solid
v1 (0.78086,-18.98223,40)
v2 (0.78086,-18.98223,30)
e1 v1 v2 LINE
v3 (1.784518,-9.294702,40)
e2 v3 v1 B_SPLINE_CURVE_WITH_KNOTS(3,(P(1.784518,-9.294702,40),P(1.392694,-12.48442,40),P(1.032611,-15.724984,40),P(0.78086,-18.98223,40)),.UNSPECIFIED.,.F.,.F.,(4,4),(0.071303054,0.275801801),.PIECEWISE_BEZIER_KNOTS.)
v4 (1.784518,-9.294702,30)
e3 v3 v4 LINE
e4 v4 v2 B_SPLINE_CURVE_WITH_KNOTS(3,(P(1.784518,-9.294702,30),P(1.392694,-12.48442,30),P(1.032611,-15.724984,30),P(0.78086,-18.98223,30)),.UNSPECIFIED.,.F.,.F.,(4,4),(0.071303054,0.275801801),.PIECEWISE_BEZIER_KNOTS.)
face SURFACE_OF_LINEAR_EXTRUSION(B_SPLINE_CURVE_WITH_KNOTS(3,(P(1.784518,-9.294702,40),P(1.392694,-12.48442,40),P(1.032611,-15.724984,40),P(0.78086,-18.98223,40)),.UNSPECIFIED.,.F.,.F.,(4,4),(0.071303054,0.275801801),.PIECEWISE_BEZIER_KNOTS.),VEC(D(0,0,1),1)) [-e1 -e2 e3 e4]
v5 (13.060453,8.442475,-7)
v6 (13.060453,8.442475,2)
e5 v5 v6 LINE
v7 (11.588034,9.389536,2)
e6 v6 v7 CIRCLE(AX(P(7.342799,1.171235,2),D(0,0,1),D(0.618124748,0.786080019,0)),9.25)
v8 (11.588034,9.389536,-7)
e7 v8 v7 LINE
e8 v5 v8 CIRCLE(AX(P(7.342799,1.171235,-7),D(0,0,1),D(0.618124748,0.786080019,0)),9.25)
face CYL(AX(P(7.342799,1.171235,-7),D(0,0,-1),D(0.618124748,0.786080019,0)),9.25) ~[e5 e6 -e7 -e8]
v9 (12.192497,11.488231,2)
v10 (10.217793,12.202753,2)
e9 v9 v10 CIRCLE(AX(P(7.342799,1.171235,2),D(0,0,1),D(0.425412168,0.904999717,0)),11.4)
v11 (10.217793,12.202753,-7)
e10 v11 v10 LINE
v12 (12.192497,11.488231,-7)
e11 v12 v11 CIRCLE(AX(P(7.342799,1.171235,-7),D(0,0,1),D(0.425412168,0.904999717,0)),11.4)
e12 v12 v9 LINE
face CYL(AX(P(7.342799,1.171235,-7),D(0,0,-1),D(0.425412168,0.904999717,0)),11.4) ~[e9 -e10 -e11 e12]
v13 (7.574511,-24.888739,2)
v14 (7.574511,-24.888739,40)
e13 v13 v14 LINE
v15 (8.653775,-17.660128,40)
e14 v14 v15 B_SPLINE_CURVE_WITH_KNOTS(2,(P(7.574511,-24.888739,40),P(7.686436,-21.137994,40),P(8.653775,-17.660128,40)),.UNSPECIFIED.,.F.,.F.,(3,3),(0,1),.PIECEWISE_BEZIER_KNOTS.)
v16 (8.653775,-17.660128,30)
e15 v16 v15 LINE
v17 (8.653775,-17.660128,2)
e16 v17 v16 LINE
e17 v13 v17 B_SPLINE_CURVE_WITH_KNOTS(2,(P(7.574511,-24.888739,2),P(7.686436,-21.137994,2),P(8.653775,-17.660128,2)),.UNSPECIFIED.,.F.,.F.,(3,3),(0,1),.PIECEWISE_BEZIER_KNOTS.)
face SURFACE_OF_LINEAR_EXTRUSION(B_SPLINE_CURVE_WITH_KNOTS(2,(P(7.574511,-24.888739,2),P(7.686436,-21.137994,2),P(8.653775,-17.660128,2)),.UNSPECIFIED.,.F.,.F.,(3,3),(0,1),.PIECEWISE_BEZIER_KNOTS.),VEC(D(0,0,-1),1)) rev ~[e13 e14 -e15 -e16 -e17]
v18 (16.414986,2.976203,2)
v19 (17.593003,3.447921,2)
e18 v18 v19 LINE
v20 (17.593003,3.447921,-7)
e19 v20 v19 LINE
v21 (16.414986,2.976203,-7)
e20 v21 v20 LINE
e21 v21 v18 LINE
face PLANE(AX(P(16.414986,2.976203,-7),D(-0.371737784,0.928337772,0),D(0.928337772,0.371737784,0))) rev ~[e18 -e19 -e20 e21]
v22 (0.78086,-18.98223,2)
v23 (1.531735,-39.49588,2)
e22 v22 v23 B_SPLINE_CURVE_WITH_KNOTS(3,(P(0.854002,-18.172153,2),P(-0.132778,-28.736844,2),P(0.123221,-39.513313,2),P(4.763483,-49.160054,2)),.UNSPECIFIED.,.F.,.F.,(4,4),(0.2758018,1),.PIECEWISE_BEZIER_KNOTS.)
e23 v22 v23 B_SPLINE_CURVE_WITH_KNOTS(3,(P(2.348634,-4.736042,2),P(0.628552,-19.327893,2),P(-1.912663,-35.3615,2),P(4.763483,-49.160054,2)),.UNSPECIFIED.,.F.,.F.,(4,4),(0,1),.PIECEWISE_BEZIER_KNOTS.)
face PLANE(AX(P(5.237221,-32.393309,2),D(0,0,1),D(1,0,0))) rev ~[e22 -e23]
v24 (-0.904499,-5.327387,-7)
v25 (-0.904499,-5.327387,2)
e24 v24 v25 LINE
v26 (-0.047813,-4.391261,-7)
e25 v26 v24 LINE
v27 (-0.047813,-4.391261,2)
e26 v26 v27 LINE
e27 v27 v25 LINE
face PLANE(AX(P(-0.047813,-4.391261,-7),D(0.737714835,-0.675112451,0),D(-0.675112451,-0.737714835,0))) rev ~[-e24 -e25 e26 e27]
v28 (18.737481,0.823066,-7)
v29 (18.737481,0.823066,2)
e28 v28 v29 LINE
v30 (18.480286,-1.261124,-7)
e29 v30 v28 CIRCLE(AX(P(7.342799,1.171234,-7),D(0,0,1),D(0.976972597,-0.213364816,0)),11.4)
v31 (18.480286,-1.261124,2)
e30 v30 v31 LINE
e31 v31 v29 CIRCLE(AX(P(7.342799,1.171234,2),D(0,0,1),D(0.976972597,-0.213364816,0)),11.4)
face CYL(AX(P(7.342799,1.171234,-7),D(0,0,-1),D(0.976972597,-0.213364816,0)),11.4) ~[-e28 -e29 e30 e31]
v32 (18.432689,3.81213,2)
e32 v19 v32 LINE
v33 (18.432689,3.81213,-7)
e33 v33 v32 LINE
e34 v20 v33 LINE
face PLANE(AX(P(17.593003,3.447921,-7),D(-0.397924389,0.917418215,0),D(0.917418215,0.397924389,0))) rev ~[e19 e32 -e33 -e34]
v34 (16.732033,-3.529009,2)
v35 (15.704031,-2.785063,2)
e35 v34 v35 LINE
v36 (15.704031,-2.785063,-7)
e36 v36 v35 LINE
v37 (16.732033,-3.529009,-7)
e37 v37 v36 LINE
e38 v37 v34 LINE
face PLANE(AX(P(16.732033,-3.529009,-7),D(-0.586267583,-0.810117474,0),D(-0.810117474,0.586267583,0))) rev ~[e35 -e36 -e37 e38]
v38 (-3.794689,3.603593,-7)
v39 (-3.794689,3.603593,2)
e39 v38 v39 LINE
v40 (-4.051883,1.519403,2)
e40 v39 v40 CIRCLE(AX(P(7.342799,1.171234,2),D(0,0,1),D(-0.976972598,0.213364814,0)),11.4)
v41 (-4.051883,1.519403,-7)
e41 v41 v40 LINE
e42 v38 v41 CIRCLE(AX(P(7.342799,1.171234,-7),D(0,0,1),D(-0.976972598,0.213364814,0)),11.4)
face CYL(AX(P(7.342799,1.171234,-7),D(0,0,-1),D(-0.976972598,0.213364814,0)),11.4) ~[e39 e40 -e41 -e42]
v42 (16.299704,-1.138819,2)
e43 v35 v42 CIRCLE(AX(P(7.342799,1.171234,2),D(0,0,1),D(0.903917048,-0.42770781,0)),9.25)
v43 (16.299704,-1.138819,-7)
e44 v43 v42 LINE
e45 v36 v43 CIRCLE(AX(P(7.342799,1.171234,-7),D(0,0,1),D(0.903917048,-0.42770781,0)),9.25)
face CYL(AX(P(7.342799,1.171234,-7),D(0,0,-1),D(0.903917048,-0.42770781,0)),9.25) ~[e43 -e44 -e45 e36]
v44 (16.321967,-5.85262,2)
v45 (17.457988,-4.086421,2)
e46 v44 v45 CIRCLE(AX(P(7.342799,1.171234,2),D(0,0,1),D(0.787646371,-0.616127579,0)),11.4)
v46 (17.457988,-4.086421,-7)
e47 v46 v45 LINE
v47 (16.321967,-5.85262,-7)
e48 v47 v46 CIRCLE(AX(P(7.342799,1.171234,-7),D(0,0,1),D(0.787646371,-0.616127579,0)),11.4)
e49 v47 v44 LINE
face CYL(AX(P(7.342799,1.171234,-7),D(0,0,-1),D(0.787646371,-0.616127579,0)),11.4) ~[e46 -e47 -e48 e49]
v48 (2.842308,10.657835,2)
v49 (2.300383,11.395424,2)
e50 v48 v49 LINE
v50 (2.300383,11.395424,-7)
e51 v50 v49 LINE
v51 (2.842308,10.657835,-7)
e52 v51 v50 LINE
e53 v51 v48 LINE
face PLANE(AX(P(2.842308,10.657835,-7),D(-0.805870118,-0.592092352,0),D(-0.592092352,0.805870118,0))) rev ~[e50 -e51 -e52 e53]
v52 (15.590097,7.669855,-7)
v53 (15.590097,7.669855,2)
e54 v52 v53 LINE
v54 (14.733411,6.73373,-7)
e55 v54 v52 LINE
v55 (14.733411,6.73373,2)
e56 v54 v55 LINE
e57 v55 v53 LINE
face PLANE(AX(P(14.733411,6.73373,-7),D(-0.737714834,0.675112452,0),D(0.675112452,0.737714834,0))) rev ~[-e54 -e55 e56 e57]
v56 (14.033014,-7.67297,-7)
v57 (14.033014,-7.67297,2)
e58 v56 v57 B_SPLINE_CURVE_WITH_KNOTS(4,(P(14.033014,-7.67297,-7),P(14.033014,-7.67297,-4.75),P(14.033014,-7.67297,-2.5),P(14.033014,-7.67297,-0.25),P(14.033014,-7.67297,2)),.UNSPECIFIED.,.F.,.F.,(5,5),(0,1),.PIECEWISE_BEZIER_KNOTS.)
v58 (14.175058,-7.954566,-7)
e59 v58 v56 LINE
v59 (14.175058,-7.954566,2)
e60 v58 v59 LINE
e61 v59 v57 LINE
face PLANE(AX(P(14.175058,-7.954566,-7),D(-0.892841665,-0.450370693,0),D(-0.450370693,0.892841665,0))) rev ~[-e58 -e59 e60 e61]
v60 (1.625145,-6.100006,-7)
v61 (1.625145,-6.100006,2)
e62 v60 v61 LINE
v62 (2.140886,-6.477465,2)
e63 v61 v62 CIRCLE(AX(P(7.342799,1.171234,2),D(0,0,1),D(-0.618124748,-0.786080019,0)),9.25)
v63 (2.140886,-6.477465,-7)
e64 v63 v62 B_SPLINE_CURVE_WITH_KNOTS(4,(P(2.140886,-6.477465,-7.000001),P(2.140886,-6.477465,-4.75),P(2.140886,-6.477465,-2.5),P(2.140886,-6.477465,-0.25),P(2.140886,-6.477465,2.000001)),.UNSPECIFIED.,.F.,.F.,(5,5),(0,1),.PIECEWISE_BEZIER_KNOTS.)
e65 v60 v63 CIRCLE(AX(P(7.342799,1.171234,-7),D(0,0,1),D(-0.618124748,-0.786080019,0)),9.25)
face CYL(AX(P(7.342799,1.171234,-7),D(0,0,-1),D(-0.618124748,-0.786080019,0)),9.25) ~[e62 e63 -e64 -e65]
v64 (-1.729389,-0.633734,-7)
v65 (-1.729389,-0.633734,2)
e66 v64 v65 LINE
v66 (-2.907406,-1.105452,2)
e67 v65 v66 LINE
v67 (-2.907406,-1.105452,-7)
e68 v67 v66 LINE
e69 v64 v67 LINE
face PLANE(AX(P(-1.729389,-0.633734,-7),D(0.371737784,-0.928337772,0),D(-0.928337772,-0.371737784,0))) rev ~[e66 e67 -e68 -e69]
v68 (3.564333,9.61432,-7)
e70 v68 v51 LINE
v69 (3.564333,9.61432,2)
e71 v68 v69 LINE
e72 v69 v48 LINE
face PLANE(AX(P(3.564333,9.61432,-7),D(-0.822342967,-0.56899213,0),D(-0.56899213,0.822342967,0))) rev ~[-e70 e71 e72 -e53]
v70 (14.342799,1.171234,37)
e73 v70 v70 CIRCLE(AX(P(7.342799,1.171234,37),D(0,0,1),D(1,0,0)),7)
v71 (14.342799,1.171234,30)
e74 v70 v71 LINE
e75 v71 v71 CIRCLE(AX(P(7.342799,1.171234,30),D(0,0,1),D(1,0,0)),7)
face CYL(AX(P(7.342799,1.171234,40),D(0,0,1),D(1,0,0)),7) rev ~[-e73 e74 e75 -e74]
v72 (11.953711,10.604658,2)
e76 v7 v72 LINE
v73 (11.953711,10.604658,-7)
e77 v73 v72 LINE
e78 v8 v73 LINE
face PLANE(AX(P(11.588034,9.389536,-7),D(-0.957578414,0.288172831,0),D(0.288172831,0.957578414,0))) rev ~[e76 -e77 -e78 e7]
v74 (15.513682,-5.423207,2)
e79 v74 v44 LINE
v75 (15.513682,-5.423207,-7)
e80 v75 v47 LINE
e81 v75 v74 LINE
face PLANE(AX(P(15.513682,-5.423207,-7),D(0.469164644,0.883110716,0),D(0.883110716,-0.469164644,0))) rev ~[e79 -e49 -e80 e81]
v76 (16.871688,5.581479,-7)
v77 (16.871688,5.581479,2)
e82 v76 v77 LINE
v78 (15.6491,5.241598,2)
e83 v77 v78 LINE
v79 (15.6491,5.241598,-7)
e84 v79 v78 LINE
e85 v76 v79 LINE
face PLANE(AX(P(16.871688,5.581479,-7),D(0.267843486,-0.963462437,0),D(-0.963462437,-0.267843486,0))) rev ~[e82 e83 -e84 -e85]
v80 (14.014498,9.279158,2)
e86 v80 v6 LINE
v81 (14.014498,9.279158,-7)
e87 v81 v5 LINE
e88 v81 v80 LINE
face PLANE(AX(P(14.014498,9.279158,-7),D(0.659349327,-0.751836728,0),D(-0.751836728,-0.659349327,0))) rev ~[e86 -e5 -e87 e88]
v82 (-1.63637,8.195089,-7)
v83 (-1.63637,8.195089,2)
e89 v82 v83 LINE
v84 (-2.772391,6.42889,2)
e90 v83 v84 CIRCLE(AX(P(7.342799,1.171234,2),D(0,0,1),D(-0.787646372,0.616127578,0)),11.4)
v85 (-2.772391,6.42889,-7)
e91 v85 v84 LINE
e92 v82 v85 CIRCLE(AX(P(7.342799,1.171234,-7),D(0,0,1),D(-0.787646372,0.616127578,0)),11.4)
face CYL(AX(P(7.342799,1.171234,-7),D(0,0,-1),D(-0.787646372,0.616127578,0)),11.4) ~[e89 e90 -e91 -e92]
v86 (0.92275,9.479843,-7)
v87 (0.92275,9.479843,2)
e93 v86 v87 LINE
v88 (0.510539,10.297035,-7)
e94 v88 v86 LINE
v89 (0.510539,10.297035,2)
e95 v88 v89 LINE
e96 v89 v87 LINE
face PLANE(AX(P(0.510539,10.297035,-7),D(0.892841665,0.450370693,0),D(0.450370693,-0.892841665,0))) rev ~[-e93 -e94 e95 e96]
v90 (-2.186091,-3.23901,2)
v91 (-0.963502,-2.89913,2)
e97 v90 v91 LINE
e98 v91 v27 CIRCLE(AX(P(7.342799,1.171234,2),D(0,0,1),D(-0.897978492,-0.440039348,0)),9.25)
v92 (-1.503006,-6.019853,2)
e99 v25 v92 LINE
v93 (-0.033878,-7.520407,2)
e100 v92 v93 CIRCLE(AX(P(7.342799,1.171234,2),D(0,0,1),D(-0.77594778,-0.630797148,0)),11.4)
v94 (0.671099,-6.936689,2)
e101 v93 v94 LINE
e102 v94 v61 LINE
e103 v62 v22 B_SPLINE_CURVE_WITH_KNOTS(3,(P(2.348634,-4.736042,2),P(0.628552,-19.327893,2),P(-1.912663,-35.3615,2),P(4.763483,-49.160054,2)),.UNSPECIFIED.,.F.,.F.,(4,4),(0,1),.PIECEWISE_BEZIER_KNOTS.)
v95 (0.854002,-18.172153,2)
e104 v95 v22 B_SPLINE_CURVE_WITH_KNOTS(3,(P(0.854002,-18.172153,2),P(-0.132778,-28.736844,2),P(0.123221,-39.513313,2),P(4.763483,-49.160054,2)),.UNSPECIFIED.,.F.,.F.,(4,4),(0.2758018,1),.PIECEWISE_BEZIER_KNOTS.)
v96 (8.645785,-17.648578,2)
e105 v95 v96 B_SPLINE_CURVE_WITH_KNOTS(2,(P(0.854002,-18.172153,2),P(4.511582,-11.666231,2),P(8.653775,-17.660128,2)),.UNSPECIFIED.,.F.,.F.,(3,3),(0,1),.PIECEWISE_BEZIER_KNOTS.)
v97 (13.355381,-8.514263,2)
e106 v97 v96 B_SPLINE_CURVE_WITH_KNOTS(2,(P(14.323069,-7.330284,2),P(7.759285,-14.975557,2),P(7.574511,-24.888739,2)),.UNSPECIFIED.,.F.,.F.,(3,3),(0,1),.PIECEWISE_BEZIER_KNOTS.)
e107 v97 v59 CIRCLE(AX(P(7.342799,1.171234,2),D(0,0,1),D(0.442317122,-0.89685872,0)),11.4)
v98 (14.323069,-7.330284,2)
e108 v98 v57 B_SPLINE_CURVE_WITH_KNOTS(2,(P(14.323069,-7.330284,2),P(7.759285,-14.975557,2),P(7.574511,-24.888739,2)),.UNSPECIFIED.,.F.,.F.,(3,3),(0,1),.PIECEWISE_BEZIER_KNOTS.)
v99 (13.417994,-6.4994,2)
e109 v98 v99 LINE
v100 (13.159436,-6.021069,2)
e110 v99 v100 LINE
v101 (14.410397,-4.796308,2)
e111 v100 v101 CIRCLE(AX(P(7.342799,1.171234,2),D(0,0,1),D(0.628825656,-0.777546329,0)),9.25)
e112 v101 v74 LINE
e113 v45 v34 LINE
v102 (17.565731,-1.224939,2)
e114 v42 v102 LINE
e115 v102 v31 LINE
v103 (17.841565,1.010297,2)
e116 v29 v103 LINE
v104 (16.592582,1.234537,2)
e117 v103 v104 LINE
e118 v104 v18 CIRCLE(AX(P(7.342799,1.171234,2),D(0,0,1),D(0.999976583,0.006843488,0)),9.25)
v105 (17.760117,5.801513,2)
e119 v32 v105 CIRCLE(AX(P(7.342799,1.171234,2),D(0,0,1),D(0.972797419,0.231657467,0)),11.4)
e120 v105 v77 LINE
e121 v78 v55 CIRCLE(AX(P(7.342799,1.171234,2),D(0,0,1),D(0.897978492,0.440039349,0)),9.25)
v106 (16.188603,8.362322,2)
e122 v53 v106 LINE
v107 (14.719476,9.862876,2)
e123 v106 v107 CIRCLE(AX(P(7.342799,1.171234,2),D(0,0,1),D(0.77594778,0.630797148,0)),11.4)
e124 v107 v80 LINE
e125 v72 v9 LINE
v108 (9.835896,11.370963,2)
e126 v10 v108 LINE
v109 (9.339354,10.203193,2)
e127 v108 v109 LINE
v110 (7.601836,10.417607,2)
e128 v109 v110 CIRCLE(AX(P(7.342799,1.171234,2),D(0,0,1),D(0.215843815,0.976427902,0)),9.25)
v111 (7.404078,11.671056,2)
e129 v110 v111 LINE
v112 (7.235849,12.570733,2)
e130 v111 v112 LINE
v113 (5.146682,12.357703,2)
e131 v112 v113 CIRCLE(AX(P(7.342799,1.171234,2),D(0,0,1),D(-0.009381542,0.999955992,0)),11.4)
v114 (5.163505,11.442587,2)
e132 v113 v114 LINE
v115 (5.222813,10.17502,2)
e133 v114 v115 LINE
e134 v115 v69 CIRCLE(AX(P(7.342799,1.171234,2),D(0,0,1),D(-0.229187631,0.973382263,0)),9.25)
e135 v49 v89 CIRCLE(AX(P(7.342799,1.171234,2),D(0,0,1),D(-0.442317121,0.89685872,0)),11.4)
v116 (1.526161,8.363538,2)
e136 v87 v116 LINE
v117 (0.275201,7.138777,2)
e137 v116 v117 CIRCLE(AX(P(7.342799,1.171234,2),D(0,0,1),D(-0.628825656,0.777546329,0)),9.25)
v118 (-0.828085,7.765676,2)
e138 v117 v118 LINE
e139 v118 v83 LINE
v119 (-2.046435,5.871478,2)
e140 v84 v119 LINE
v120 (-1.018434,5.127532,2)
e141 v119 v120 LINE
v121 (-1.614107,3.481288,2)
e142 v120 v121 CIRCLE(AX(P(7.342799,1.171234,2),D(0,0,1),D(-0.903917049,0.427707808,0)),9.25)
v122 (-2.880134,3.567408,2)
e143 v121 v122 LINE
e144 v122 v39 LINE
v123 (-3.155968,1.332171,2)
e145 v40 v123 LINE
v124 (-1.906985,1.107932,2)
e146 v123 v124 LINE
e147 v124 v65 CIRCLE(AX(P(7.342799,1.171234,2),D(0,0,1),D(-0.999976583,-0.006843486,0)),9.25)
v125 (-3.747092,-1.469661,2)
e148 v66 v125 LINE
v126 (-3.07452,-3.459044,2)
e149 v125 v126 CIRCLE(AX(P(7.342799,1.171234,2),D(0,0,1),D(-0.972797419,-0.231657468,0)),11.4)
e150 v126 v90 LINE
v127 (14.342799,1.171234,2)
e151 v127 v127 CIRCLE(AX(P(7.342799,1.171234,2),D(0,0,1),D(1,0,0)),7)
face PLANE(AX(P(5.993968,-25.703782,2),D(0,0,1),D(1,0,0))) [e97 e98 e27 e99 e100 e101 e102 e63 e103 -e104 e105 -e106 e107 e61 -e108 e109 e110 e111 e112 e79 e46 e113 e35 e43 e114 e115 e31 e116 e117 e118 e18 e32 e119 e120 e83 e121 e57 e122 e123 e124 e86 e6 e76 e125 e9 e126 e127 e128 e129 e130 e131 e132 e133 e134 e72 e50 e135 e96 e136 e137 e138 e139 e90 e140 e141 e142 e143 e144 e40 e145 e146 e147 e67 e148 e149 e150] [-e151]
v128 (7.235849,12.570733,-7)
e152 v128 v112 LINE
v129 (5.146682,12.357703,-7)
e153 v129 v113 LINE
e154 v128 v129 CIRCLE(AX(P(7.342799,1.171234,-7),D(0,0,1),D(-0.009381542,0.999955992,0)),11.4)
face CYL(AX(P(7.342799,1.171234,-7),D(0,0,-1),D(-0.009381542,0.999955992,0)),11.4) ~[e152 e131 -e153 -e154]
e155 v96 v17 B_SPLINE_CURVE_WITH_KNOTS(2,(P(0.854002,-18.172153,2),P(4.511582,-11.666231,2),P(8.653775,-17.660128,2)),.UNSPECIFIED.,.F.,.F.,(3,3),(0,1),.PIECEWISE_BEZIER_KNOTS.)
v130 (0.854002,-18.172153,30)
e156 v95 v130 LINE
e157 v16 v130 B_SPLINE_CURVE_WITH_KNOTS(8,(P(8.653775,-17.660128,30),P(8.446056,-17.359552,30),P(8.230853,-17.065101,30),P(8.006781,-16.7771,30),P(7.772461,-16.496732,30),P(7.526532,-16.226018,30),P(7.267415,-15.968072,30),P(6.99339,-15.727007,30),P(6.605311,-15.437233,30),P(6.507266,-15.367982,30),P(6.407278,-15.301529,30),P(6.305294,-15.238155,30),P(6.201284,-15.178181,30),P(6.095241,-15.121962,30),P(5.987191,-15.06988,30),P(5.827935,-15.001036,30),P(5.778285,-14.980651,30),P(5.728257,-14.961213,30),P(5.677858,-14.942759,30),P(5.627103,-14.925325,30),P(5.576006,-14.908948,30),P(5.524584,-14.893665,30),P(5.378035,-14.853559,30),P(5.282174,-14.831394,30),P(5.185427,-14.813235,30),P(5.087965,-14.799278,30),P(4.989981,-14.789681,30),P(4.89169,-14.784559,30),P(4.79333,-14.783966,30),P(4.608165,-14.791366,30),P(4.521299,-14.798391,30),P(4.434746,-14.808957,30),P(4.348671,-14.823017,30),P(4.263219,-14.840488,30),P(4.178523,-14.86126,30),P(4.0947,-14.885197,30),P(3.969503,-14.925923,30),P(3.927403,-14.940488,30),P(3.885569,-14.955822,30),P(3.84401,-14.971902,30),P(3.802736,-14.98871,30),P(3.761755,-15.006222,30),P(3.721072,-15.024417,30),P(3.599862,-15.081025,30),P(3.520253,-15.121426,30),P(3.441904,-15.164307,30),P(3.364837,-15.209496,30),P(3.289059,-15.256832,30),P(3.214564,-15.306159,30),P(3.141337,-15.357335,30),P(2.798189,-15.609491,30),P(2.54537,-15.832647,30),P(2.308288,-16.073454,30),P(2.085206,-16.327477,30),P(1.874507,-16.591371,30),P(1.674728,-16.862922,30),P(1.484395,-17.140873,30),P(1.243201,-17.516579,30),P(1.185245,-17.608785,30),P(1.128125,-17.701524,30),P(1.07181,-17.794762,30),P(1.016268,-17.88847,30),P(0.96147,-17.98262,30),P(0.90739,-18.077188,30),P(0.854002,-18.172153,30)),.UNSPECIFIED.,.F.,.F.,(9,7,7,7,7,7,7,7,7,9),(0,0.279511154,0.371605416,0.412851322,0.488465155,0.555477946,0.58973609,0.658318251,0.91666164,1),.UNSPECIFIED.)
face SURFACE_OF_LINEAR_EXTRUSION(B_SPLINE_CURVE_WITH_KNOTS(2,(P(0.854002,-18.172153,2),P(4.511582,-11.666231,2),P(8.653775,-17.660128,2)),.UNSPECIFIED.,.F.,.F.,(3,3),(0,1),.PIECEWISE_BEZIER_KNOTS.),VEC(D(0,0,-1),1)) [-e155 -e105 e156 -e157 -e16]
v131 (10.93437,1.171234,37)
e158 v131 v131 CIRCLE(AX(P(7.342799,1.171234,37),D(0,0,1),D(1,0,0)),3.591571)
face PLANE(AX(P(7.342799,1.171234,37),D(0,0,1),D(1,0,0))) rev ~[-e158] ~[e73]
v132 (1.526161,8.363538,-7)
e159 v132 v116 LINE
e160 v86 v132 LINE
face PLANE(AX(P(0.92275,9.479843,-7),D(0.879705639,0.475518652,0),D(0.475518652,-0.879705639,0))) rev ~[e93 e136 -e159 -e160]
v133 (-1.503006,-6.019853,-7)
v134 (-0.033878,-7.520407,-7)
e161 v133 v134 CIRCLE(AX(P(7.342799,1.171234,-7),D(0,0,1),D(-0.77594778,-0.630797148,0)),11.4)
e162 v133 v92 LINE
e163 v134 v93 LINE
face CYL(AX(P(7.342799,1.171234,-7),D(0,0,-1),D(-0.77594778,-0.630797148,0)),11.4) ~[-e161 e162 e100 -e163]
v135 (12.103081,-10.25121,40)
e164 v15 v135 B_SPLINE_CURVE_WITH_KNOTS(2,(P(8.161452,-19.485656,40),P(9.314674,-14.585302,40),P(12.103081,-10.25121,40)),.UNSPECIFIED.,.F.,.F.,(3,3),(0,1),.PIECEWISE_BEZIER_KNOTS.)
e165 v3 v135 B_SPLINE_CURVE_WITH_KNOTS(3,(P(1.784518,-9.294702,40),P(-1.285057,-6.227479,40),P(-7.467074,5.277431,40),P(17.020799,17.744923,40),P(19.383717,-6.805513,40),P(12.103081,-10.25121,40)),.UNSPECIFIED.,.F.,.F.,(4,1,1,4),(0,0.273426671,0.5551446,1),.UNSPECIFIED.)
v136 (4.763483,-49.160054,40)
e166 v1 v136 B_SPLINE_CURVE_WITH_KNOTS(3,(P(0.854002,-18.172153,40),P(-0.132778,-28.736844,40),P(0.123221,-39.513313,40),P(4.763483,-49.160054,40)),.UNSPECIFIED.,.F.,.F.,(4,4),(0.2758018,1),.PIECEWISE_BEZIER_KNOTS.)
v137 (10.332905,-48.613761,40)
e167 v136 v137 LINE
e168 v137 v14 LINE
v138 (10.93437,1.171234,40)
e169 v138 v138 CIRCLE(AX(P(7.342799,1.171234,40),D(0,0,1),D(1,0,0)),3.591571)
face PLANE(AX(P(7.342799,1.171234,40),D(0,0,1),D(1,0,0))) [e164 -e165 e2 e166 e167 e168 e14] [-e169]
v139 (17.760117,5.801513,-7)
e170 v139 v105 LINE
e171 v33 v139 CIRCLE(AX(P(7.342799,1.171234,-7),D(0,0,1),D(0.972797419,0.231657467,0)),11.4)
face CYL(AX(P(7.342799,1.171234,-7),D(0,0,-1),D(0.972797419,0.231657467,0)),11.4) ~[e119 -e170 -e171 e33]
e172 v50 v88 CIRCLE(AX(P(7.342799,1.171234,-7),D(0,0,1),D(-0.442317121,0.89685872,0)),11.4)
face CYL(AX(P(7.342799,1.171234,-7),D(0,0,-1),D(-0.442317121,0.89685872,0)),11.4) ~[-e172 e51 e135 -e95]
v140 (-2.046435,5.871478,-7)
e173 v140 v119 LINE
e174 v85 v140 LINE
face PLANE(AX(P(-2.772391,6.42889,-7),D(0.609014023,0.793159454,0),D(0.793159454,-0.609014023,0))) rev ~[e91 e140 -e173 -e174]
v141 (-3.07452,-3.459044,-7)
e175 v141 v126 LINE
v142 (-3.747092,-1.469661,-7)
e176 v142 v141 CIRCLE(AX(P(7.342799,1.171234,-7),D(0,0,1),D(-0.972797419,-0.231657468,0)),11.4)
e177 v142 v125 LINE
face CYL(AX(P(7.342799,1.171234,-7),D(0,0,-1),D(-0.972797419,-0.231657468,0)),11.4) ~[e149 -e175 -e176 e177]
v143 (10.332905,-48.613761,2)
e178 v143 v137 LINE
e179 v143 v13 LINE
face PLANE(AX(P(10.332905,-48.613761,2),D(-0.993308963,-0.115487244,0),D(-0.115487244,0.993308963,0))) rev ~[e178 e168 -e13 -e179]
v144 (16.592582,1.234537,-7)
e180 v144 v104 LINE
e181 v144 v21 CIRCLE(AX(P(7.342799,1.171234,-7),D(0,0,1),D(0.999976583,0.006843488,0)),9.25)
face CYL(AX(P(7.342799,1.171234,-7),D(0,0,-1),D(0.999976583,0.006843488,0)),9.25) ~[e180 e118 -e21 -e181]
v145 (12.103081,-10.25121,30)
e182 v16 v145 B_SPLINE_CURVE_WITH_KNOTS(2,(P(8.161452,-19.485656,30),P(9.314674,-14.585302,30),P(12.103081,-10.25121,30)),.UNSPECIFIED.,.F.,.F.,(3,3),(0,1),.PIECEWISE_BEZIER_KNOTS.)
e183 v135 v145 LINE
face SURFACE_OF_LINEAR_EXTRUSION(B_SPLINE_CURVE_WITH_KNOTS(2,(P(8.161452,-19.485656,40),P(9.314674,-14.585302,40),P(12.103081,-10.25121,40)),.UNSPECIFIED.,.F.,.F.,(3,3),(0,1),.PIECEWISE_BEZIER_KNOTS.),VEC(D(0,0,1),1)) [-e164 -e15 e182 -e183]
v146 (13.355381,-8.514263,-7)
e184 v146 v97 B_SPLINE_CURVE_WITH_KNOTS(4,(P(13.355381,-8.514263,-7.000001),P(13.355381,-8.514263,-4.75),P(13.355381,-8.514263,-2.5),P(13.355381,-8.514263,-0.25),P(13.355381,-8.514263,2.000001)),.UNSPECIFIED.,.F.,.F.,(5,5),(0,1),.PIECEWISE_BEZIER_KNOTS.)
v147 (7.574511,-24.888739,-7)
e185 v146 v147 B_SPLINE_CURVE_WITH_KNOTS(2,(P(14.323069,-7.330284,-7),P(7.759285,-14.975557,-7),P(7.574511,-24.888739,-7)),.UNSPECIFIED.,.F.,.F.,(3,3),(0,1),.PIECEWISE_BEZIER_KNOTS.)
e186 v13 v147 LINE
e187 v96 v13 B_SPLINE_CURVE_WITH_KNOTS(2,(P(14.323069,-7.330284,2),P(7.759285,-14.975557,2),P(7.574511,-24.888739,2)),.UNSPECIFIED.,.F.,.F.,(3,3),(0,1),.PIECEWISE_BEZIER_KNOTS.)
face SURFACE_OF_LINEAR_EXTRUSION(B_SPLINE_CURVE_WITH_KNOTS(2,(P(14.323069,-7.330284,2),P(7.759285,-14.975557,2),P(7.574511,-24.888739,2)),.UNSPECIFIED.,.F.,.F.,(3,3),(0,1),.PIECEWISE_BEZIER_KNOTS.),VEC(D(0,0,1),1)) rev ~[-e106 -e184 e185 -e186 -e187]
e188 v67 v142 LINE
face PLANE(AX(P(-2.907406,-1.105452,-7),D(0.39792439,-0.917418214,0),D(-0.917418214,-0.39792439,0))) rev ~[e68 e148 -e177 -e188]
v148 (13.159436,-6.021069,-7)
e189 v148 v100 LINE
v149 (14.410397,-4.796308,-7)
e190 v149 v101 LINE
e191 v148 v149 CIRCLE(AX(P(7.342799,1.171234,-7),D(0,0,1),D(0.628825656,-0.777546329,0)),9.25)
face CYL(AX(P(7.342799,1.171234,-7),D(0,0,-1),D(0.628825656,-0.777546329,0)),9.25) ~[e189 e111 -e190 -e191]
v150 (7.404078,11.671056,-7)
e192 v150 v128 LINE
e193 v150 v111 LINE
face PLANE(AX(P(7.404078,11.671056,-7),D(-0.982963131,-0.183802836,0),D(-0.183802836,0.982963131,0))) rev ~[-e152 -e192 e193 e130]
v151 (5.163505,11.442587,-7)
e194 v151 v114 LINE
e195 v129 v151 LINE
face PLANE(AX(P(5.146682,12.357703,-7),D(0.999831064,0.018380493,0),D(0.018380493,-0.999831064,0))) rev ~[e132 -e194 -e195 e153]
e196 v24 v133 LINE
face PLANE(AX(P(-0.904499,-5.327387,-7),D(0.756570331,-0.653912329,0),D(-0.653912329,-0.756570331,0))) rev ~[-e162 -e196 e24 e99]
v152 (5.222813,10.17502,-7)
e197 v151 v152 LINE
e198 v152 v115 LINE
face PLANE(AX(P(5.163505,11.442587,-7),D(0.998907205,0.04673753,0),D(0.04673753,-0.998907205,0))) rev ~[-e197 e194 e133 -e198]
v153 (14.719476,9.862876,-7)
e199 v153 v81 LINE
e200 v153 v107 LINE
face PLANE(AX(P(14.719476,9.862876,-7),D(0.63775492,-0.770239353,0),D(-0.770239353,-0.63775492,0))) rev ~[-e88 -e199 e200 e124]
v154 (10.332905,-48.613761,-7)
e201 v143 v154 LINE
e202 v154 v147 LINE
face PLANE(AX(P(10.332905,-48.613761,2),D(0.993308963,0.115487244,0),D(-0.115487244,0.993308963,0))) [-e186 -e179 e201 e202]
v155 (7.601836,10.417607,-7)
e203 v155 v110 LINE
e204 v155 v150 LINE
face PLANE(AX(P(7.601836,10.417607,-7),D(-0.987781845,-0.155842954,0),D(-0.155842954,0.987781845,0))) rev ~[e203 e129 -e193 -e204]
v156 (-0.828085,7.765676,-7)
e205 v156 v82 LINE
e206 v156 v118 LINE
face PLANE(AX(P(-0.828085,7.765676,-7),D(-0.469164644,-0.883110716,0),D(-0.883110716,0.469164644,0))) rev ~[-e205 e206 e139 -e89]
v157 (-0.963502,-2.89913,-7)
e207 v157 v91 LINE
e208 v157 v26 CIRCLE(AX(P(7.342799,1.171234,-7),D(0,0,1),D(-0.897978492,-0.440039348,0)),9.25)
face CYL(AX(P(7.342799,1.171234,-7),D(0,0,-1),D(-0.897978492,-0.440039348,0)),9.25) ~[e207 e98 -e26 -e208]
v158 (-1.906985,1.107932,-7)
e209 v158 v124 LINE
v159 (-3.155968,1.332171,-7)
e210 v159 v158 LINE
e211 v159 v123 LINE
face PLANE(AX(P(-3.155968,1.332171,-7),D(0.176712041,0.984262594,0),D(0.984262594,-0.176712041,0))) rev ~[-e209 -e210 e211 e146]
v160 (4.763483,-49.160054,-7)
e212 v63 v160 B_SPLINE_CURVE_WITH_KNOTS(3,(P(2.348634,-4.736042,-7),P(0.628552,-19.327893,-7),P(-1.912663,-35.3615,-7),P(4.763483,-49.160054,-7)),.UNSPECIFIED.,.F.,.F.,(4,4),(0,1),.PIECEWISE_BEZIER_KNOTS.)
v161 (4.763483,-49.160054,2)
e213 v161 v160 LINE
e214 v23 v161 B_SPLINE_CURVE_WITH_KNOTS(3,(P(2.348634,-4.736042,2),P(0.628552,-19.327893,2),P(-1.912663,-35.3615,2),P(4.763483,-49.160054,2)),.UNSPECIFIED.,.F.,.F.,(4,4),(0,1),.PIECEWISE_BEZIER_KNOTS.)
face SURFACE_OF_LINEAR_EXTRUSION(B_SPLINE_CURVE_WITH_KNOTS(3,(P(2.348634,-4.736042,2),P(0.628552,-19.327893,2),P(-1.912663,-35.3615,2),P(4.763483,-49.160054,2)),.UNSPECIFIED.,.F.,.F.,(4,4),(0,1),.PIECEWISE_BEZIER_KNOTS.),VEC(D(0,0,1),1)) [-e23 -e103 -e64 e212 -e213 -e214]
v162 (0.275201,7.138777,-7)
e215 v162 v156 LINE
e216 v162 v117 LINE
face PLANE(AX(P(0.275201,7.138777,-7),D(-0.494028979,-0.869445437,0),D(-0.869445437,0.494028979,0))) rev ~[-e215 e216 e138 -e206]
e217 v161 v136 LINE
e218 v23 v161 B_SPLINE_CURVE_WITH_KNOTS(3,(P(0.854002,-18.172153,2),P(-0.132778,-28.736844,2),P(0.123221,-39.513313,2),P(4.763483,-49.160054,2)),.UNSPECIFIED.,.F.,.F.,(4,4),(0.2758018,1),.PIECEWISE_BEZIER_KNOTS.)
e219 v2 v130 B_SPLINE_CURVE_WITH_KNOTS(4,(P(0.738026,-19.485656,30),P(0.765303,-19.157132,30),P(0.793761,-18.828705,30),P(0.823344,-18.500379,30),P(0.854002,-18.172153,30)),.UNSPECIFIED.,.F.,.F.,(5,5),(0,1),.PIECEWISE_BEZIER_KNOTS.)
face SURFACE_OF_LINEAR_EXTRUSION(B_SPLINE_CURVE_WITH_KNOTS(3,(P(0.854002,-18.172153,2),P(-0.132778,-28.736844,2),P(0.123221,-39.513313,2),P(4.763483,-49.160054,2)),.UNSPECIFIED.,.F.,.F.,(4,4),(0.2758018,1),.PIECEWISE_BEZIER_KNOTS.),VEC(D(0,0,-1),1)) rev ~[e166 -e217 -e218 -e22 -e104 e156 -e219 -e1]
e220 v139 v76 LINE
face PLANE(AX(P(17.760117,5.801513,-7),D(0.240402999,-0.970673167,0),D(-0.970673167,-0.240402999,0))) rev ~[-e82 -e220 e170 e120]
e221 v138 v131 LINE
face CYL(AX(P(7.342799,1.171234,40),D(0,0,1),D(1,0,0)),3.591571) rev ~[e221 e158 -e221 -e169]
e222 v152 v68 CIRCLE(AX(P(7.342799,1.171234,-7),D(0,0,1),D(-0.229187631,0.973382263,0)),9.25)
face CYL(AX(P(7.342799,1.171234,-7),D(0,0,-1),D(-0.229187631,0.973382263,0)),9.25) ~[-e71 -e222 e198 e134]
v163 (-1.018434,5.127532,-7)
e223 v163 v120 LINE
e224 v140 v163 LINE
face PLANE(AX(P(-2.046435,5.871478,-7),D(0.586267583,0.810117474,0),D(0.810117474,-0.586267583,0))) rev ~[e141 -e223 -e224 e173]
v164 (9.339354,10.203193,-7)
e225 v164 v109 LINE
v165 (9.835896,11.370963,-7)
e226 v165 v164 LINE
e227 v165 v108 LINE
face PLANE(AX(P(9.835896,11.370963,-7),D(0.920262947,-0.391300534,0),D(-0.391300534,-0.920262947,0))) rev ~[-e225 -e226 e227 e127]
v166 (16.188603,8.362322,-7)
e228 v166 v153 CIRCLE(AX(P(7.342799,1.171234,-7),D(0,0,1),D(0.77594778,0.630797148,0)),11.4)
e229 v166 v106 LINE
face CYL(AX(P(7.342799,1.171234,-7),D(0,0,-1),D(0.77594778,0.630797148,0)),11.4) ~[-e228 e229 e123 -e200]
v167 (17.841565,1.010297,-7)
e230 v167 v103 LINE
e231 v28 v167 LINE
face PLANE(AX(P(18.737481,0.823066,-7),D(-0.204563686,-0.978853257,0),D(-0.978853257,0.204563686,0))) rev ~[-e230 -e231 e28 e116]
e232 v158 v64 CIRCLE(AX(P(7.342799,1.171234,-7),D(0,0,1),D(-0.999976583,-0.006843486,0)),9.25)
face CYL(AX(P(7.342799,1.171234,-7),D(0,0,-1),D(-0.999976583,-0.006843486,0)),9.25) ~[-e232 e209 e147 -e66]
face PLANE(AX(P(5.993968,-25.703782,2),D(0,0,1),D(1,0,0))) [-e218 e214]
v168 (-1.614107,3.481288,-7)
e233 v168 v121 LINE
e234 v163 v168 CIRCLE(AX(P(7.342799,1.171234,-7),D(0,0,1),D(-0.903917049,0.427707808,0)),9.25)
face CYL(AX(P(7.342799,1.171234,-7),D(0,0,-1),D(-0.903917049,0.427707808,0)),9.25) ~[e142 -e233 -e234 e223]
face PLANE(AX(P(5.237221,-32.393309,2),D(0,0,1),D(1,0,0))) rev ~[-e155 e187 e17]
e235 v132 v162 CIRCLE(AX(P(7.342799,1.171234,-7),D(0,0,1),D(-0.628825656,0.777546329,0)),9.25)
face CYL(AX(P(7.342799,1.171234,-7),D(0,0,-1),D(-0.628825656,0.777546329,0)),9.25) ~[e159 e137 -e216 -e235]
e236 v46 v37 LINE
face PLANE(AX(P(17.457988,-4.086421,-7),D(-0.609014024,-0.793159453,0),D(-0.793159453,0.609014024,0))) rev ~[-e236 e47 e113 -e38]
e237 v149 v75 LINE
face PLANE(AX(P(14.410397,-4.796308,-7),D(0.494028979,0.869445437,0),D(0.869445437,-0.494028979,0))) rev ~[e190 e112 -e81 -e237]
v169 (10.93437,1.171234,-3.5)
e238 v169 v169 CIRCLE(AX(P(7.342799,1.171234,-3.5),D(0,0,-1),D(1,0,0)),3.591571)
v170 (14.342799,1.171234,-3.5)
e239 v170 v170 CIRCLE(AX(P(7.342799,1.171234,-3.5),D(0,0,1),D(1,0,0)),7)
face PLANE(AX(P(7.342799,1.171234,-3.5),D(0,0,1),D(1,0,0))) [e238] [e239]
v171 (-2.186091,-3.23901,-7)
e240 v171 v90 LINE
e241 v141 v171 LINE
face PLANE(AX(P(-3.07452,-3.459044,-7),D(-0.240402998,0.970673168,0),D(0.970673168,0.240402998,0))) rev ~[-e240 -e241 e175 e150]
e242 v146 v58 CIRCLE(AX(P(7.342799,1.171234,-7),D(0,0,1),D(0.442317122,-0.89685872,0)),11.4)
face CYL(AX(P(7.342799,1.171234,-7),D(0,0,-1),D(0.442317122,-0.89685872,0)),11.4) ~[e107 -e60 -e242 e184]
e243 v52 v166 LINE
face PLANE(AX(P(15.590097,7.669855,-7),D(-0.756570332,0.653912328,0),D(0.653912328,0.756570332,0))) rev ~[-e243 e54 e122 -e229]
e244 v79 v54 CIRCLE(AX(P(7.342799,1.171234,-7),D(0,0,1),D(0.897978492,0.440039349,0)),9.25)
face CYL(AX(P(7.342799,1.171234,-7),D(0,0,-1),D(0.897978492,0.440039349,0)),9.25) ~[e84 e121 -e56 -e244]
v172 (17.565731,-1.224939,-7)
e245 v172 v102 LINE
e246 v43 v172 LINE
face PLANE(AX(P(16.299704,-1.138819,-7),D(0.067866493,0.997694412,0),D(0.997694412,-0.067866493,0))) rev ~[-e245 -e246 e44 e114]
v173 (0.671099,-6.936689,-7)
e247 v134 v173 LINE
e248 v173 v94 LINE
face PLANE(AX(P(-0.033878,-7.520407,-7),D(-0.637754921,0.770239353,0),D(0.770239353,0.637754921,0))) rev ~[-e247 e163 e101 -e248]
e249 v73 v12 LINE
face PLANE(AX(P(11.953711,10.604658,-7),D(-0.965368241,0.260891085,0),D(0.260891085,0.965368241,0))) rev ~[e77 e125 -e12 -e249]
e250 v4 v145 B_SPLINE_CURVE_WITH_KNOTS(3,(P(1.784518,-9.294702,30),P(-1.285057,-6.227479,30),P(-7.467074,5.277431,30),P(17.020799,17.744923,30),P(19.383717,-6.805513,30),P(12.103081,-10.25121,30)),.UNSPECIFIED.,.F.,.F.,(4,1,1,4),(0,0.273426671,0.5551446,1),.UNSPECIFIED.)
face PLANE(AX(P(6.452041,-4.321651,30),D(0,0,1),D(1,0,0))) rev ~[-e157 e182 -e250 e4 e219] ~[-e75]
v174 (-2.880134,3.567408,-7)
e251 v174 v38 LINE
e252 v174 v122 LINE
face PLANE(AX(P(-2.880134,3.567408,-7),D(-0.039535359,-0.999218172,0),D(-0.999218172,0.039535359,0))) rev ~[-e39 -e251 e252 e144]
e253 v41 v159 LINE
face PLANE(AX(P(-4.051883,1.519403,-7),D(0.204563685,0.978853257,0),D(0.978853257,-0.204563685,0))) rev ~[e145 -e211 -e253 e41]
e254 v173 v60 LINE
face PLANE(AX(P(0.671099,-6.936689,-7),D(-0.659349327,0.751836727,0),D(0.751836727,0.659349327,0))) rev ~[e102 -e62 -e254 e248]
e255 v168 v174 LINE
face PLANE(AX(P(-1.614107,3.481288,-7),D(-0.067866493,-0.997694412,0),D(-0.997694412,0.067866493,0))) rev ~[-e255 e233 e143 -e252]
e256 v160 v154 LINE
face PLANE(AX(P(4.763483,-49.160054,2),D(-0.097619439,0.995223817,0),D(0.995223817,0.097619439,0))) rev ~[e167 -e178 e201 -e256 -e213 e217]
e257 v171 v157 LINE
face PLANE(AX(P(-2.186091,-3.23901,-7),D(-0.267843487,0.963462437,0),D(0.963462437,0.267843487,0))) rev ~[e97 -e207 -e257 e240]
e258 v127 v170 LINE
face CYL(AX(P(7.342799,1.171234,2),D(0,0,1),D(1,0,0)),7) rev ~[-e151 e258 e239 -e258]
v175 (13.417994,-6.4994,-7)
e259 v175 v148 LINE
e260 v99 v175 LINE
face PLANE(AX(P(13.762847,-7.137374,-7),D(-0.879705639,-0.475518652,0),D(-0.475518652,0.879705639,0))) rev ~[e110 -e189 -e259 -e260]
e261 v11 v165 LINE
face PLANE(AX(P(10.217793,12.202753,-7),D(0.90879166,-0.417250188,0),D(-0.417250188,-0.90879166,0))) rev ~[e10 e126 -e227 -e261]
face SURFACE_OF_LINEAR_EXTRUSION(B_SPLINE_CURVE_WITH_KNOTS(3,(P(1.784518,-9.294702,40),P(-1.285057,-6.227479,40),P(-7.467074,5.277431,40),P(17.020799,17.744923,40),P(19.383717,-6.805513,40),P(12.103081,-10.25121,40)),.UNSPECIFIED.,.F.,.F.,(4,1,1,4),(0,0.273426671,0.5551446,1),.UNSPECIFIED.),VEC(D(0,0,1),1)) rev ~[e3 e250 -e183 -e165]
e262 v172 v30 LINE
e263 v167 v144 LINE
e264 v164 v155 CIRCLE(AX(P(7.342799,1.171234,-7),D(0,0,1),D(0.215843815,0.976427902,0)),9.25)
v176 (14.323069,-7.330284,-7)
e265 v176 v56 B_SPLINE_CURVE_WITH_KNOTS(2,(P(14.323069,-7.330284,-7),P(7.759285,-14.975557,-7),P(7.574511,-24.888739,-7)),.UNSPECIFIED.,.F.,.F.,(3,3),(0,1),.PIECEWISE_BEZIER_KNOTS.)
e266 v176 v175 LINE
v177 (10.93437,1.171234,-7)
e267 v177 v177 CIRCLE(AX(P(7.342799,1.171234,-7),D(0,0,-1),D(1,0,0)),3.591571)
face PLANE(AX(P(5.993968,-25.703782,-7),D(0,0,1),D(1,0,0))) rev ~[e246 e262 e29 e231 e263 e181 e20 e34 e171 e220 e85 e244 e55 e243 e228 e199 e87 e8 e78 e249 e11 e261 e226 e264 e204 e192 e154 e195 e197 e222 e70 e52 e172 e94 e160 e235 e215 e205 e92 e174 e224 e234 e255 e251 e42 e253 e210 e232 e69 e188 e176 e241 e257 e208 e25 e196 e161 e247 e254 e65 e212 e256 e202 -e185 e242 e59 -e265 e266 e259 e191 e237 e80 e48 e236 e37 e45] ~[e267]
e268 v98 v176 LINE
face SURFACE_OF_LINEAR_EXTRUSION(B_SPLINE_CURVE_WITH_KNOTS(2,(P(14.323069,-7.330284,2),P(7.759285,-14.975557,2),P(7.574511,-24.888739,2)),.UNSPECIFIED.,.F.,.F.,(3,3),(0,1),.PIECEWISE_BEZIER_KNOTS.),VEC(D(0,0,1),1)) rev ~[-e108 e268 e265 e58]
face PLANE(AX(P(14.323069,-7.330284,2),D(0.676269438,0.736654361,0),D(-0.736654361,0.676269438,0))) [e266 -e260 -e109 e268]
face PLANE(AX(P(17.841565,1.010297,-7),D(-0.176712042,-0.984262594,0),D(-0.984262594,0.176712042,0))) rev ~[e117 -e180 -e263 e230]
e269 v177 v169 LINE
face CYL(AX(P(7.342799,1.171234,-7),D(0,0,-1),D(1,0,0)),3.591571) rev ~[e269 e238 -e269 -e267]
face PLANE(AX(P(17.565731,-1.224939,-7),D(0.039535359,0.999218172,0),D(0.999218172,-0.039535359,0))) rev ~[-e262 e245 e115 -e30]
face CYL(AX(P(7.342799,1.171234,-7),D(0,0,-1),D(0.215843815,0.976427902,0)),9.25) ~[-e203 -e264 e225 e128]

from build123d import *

# Parameters (mm, degrees)
BOSS_EXTRUDE1_DEPTH      = 2
BOSS_EXTRUDE1_DEPTH_BACK = 7
BOSS_EXTRUDE3_DEPTH      = 9
SKETCH6_R                = 7
SKETCH6_R_2              = 3.69685312
BOSS_EXTRUDE4_DEPTH      = 3
BOSS_EXTRUDE5_DEPTH      = 38
SKETCH8_R                = 7
BOSS_EXTRUDE6_DEPTH      = 10
SKETCH9_R                = 7
SKETCH9_R_2              = 3.591571222
BOSS_EXTRUDE7_DEPTH      = 3
SKETCH10_R               = 7
CUT_EXTRUDE1_DEPTH       = 5.5
SKETCH11_R               = 3.591571222
CUT_EXTRUDE2_DEPTH       = 71.546467667


with BuildPart() as part:
    # Sketch2 → Boss-Extrude1 (new, two sides: drawn at the far end of the back side and taken through both)
    with BuildSketch(Plane.XY.offset(-BOSS_EXTRUDE1_DEPTH_BACK)):
        with BuildLine():
            Line((17.593003447, 3.447921134), (18.432689254, 3.812129579))
            ThreePointArc((18.432689254, 3.812129579), (18.142308848, 4.822341152), (17.760116965, 5.801513031))
            Line((17.760116965, 5.801513031), (16.871688472, 5.581479263))
            Line((16.871688472, 5.581479263), (15.649099733, 5.241598415))
            ThreePointArc((15.649099733, 5.241598415), (15.22663553, 6.009376293), (14.733410626, 6.733729845))
            Line((14.733410626, 6.733729845), (15.590096731, 7.669855443))
            Line((15.590096731, 7.669855443), (16.188603379, 8.362321932))
            ThreePointArc((16.188603379, 8.362321932), (15.488665299, 9.146499772), (14.719475556, 9.862876308))
            Line((14.719475556, 9.862876308), (14.014498216, 9.279158058))
            Line((14.014498216, 9.279158058), (13.060452596, 8.442474621))
            ThreePointArc((13.060452596, 8.442474621), (12.346699165, 8.950918239), (11.588033655, 9.389535972))
            Line((11.588033655, 9.389535972), (11.95371149, 10.604658163))
            Line((11.95371149, 10.604658163), (12.192497398, 11.488231214))
            ThreePointArc((12.192497398, 11.488231214), (11.221632964, 11.891059284), (10.217792822, 12.202753318))
            Line((10.217792822, 12.202753318), (9.835896044, 11.370963143))
            Line((9.835896044, 11.370963143), (9.33935398, 10.203192533))
            ThreePointArc((9.33935398, 10.203192533), (8.475678941, 10.351598396), (7.601835833, 10.417606691))
            Line((7.601835833, 10.417606691), (7.404078418, 11.671055622))
            Line((7.404078418, 11.671055622), (7.235849109, 12.570732756))
            ThreePointArc((7.235849109, 12.570732756), (6.18634993, 12.512426015), (5.14668224, 12.357702722))
            Line((5.14668224, 12.357702722), (5.163505363, 11.442586867))
            Line((5.163505363, 11.442586867), (5.222813101, 10.175020376))
            ThreePointArc((5.222813101, 10.175020376), (4.380277888, 9.933994883), (3.564332526, 9.614319987))
            Line((3.564332526, 9.614319987), (2.842308143, 10.657834724))
            Line((2.842308143, 10.657834724), (2.300383494, 11.395423851))
            ThreePointArc((2.300383494, 11.395423851), (1.380115753, 10.887530665), (0.510539453, 10.297034891))
            Line((0.510539453, 10.297034891), (0.922750452, 9.479843274))
            Line((0.922750452, 9.479843274), (1.526161366, 8.363537991))
            ThreePointArc((1.526161366, 8.363537991), (0.871640411, 7.780819197), (0.275200782, 7.138776643))
            Line((0.275200782, 7.138776643), (-0.828084785, 7.765676295))
            Line((-0.828084785, 7.765676295), (-1.636369952, 8.195088843))
            ThreePointArc((-1.636369952, 8.195088843), (-2.245135941, 7.338203686), (-2.772390602, 6.42889036))
            Line((-2.772390602, 6.42889036), (-2.04643517, 5.871477804))
            Line((-2.04643517, 5.871477804), (-1.018434012, 5.12753168))
            ThreePointArc((-1.018434012, 5.12753168), (-1.355304806, 4.318534189), (-1.61410652, 3.481288379))
            Line((-1.61410652, 3.481288379), (-2.880134034, 3.567407782))
            Line((-2.880134034, 3.567407782), (-3.794688927, 3.603593329))
            ThreePointArc((-3.794688927, 3.603593329), (-3.971379595, 2.567432815), (-4.051883364, 1.519402593))
            Line((-4.051883364, 1.519402593), (-3.155967876, 1.332171491))
            Line((-3.155967876, 1.332171491), (-1.90698471, 1.107932181))
            ThreePointArc((-1.90698471, 1.107932181), (-1.859483953, 0.232887867), (-1.729388897, -0.633734398))
            Line((-1.729388897, -0.633734398), (-2.907406081, -1.105452248))
            Line((-2.907406081, -1.105452248), (-3.747091888, -1.469660694))
            ThreePointArc((-3.747091888, -1.469660694), (-3.456711482, -2.479872267), (-3.0745196, -3.459044145))
            Line((-3.0745196, -3.459044145), (-2.186091107, -3.239010378))
            Line((-2.186091107, -3.239010378), (-0.963502367, -2.899129529))
            ThreePointArc((-0.963502367, -2.899129529), (-0.541038164, -3.666907408), (-0.047813261, -4.391260959))
            Line((-0.047813261, -4.391260959), (-0.904499365, -5.327386558))
            Line((-0.904499365, -5.327386558), (-1.503006014, -6.019853046))
            ThreePointArc((-1.503006014, -6.019853046), (-0.803067933, -6.804030887), (-0.03387819, -7.520407423))
            Line((-0.03387819, -7.520407423), (0.67109915, -6.936689172))
            Line((0.67109915, -6.936689172), (1.625144769, -6.100005735))
            ThreePointArc((1.625144769, -6.100005735), (2.3388982, -6.608449353), (3.097563711, -7.047067087))
            Line((3.097563711, -7.047067087), (2.731885876, -8.262189278))
            Line((2.731885876, -8.262189278), (2.493099968, -9.145762328))
            ThreePointArc((2.493099968, -9.145762328), (3.463964401, -9.548590398), (4.467804544, -9.860284433))
            Line((4.467804544, -9.860284433), (4.849701322, -9.028494257))
            Line((4.849701322, -9.028494257), (5.346243386, -7.860723648))
            ThreePointArc((5.346243386, -7.860723648), (6.209918425, -8.009129511), (7.083761533, -8.075137806))
            Line((7.083761533, -8.075137806), (7.281518948, -9.328586736))
            Line((7.281518948, -9.328586736), (7.449748257, -10.22826387))
            ThreePointArc((7.449748257, -10.22826387), (8.499247436, -10.16995713), (9.538915126, -10.015233837))
            Line((9.538915126, -10.015233837), (9.522092003, -9.100117982))
            Line((9.522092003, -9.100117982), (9.462784265, -7.83255149))
            ThreePointArc((9.462784265, -7.83255149), (10.305319478, -7.591525998), (11.12126484, -7.271851101))
            Line((11.12126484, -7.271851101), (11.843289223, -8.315365839))
            Line((11.843289223, -8.315365839), (12.385213872, -9.052954966))
            ThreePointArc((12.385213872, -9.052954966), (13.305481612, -8.54506178), (14.175057913, -7.954566005))
            Line((14.175057913, -7.954566005), (13.762846914, -7.137374389))
            Line((13.762846914, -7.137374389), (13.159436, -6.021069105))
            ThreePointArc((13.159436, -6.021069105), (13.813956955, -5.438350311), (14.410396584, -4.796307757))
            Line((14.410396584, -4.796307757), (15.513682151, -5.42320741))
            Line((15.513682151, -5.42320741), (16.321967317, -5.852619957))
            ThreePointArc((16.321967317, -5.852619957), (16.930733307, -4.9957348), (17.457987967, -4.086421474))
            Line((17.457987967, -4.086421474), (16.732032536, -3.529008918))
            Line((16.732032536, -3.529008918), (15.704031377, -2.785062794))
            ThreePointArc((15.704031377, -2.785062794), (16.040902172, -1.976065303), (16.299703886, -1.138819493))
            Line((16.299703886, -1.138819493), (17.565731399, -1.224938896))
            Line((17.565731399, -1.224938896), (18.480286292, -1.261124443))
            ThreePointArc((18.480286292, -1.261124443), (18.656976961, -0.22496393), (18.737480729, 0.823066292))
            Line((18.737480729, 0.823066292), (17.841565242, 1.010297394))
            Line((17.841565242, 1.010297394), (16.592582076, 1.234536705))
            ThreePointArc((16.592582076, 1.234536705), (16.545081318, 2.109581019), (16.414986263, 2.976203284))
            Line((16.414986263, 2.976203284), (17.593003447, 3.447921134))
        make_face()
    extrude(amount=BOSS_EXTRUDE1_DEPTH + BOSS_EXTRUDE1_DEPTH_BACK)

    # Sketch5 → Boss-Extrude3 (add)
    with BuildSketch(Plane.XY.offset(2)):
        with BuildLine():
            Line((14.323069399, -7.330284288), (11.497184032, -4.736041982))
            Line((11.497184032, -4.736041982), (2.348634103, -4.736041982))
            add(Edge.make_bspline(
                [(2.348634103, -4.736041982), (0.628552499, -19.32789347), (-1.912663, -35.361500183), (4.763482553, -49.160053836)],
                knots=[0, 0, 0, 0, 1, 1, 1, 1], degree=3))
            Line((4.763482553, -49.160053836), (10.332905106, -48.613760737))
            Line((10.332905106, -48.613760737), (7.574511186, -24.888738823))
            add(Edge.make_bspline(
                [(14.323069399, -7.330284288), (7.759285057, -14.975557189), (7.574511186, -24.888738823)],
                knots=[0, 0, 0, 1, 1, 1], degree=2))
        make_face()
    extrude(amount=-BOSS_EXTRUDE3_DEPTH)

    # Sketch6 → Boss-Extrude4 (add)
    with BuildSketch(Plane(origin=(0, 0, -7), x_dir=(-1, 0, 0), z_dir=(0, 0, -1))):
        with Locations((-7.342798683, 1.171234443)):
            Circle(SKETCH6_R)
        with Locations((-7.342798683, 1.171234443)):
            Circle(SKETCH6_R_2, mode=Mode.SUBTRACT)
    extrude(amount=-BOSS_EXTRUDE4_DEPTH)

    # Sketch7 → Boss-Extrude5 (add)
    with BuildSketch(Plane.XY.offset(2)):
        with BuildLine():
            Line((4.763482553, -49.160053836), (10.332905106, -48.613760737))
            Line((10.332905106, -48.613760737), (7.574511187, -24.888738781))
            add(Edge.make_bspline(
                [(7.574511187, -24.888738781), (7.686436039, -21.137993885), (8.653774634, -17.660128373)],
                knots=[0, 0, 0, 1, 1, 1], degree=2))
            add(Edge.make_bspline(
                [(0.854001662, -18.172152661), (4.511582235, -11.66623094), (8.653774634, -17.660128373)],
                knots=[0, 0, 0, 1, 1, 1], degree=2))
            add(Edge.make_bspline(
                [(0.854001662, -18.172152661), (-0.132777517, -28.73684408), (0.123220881, -39.513312679), (4.763482553, -49.160053836)],
                knots=[0.2758018, 0.2758018, 0.2758018, 0.2758018, 1, 1, 1, 1], degree=3))
        make_face()
    extrude(amount=BOSS_EXTRUDE5_DEPTH)

    # Sketch8 → Boss-Extrude6 (add)
    with BuildSketch(Plane.XY.offset(40)):
        with BuildLine():
            add(Edge.make_bspline(
                [(8.161452368, -19.485656093), (9.314674226, -14.585302427), (12.103080861, -10.251209775)],
                knots=[0, 0, 0, 1, 1, 1], degree=2))
            add(Edge.make_bspline(
                [(1.784517867, -9.294701523), (-1.285057106, -6.227479148), (-7.467073574, 5.277430619), (17.020799468, 17.744922671), (19.383717346, -6.805513304), (12.103080861, -10.251209775)],
                knots=[0, 0, 0, 0, 0.273426671, 0.5551446, 1, 1, 1, 1], degree=3))
            add(Edge.make_bspline(
                [(1.784517867, -9.294701523), (1.392693521, -12.484419655), (1.032610994, -15.724984195), (0.780859851, -18.982230478)],
                knots=[0.071303054, 0.071303054, 0.071303054, 0.071303054, 0.275801801, 0.275801801, 0.275801801, 0.275801801], degree=3))
            add(Edge.make_bspline(
                [(0.780859851, -18.982230478), (4.753063038, -11.185515123), (8.161452368, -19.485656093)],
                knots=[0, 0, 0, 1, 1, 1], degree=2))
        make_face()
        with Locations((7.342798683, 1.171234443)):
            Circle(SKETCH8_R, mode=Mode.SUBTRACT)
    extrude(amount=-BOSS_EXTRUDE6_DEPTH)

    # Sketch9 → Boss-Extrude7 (add)
    with BuildSketch(Plane.XY.offset(40)):
        with Locations((7.342798683, 1.171234443)):
            Circle(SKETCH9_R)
        with Locations((7.342798683, 1.171234443)):
            Circle(SKETCH9_R_2, mode=Mode.SUBTRACT)
    extrude(amount=-BOSS_EXTRUDE7_DEPTH)

    # Sketch10 → Cut-Extrude1 (cut)
    with BuildSketch(Plane.XY.offset(2)):
        with Locations((7.342798683, 1.171234443)):
            Circle(SKETCH10_R)
    extrude(amount=-CUT_EXTRUDE1_DEPTH, mode=Mode.SUBTRACT)

    # Sketch11 → Cut-Extrude2 (cut, through all)
    with BuildSketch(Plane(origin=(0, 0, -7), x_dir=(-1, 0, 0), z_dir=(0, 0, -1))):
        with Locations(Location((-7.342798683, 1.171234443, 0), (0, 0, 180))):
            Circle(SKETCH11_R)
    extrude(amount=-CUT_EXTRUDE2_DEPTH, mode=Mode.SUBTRACT)


solid = part.part
